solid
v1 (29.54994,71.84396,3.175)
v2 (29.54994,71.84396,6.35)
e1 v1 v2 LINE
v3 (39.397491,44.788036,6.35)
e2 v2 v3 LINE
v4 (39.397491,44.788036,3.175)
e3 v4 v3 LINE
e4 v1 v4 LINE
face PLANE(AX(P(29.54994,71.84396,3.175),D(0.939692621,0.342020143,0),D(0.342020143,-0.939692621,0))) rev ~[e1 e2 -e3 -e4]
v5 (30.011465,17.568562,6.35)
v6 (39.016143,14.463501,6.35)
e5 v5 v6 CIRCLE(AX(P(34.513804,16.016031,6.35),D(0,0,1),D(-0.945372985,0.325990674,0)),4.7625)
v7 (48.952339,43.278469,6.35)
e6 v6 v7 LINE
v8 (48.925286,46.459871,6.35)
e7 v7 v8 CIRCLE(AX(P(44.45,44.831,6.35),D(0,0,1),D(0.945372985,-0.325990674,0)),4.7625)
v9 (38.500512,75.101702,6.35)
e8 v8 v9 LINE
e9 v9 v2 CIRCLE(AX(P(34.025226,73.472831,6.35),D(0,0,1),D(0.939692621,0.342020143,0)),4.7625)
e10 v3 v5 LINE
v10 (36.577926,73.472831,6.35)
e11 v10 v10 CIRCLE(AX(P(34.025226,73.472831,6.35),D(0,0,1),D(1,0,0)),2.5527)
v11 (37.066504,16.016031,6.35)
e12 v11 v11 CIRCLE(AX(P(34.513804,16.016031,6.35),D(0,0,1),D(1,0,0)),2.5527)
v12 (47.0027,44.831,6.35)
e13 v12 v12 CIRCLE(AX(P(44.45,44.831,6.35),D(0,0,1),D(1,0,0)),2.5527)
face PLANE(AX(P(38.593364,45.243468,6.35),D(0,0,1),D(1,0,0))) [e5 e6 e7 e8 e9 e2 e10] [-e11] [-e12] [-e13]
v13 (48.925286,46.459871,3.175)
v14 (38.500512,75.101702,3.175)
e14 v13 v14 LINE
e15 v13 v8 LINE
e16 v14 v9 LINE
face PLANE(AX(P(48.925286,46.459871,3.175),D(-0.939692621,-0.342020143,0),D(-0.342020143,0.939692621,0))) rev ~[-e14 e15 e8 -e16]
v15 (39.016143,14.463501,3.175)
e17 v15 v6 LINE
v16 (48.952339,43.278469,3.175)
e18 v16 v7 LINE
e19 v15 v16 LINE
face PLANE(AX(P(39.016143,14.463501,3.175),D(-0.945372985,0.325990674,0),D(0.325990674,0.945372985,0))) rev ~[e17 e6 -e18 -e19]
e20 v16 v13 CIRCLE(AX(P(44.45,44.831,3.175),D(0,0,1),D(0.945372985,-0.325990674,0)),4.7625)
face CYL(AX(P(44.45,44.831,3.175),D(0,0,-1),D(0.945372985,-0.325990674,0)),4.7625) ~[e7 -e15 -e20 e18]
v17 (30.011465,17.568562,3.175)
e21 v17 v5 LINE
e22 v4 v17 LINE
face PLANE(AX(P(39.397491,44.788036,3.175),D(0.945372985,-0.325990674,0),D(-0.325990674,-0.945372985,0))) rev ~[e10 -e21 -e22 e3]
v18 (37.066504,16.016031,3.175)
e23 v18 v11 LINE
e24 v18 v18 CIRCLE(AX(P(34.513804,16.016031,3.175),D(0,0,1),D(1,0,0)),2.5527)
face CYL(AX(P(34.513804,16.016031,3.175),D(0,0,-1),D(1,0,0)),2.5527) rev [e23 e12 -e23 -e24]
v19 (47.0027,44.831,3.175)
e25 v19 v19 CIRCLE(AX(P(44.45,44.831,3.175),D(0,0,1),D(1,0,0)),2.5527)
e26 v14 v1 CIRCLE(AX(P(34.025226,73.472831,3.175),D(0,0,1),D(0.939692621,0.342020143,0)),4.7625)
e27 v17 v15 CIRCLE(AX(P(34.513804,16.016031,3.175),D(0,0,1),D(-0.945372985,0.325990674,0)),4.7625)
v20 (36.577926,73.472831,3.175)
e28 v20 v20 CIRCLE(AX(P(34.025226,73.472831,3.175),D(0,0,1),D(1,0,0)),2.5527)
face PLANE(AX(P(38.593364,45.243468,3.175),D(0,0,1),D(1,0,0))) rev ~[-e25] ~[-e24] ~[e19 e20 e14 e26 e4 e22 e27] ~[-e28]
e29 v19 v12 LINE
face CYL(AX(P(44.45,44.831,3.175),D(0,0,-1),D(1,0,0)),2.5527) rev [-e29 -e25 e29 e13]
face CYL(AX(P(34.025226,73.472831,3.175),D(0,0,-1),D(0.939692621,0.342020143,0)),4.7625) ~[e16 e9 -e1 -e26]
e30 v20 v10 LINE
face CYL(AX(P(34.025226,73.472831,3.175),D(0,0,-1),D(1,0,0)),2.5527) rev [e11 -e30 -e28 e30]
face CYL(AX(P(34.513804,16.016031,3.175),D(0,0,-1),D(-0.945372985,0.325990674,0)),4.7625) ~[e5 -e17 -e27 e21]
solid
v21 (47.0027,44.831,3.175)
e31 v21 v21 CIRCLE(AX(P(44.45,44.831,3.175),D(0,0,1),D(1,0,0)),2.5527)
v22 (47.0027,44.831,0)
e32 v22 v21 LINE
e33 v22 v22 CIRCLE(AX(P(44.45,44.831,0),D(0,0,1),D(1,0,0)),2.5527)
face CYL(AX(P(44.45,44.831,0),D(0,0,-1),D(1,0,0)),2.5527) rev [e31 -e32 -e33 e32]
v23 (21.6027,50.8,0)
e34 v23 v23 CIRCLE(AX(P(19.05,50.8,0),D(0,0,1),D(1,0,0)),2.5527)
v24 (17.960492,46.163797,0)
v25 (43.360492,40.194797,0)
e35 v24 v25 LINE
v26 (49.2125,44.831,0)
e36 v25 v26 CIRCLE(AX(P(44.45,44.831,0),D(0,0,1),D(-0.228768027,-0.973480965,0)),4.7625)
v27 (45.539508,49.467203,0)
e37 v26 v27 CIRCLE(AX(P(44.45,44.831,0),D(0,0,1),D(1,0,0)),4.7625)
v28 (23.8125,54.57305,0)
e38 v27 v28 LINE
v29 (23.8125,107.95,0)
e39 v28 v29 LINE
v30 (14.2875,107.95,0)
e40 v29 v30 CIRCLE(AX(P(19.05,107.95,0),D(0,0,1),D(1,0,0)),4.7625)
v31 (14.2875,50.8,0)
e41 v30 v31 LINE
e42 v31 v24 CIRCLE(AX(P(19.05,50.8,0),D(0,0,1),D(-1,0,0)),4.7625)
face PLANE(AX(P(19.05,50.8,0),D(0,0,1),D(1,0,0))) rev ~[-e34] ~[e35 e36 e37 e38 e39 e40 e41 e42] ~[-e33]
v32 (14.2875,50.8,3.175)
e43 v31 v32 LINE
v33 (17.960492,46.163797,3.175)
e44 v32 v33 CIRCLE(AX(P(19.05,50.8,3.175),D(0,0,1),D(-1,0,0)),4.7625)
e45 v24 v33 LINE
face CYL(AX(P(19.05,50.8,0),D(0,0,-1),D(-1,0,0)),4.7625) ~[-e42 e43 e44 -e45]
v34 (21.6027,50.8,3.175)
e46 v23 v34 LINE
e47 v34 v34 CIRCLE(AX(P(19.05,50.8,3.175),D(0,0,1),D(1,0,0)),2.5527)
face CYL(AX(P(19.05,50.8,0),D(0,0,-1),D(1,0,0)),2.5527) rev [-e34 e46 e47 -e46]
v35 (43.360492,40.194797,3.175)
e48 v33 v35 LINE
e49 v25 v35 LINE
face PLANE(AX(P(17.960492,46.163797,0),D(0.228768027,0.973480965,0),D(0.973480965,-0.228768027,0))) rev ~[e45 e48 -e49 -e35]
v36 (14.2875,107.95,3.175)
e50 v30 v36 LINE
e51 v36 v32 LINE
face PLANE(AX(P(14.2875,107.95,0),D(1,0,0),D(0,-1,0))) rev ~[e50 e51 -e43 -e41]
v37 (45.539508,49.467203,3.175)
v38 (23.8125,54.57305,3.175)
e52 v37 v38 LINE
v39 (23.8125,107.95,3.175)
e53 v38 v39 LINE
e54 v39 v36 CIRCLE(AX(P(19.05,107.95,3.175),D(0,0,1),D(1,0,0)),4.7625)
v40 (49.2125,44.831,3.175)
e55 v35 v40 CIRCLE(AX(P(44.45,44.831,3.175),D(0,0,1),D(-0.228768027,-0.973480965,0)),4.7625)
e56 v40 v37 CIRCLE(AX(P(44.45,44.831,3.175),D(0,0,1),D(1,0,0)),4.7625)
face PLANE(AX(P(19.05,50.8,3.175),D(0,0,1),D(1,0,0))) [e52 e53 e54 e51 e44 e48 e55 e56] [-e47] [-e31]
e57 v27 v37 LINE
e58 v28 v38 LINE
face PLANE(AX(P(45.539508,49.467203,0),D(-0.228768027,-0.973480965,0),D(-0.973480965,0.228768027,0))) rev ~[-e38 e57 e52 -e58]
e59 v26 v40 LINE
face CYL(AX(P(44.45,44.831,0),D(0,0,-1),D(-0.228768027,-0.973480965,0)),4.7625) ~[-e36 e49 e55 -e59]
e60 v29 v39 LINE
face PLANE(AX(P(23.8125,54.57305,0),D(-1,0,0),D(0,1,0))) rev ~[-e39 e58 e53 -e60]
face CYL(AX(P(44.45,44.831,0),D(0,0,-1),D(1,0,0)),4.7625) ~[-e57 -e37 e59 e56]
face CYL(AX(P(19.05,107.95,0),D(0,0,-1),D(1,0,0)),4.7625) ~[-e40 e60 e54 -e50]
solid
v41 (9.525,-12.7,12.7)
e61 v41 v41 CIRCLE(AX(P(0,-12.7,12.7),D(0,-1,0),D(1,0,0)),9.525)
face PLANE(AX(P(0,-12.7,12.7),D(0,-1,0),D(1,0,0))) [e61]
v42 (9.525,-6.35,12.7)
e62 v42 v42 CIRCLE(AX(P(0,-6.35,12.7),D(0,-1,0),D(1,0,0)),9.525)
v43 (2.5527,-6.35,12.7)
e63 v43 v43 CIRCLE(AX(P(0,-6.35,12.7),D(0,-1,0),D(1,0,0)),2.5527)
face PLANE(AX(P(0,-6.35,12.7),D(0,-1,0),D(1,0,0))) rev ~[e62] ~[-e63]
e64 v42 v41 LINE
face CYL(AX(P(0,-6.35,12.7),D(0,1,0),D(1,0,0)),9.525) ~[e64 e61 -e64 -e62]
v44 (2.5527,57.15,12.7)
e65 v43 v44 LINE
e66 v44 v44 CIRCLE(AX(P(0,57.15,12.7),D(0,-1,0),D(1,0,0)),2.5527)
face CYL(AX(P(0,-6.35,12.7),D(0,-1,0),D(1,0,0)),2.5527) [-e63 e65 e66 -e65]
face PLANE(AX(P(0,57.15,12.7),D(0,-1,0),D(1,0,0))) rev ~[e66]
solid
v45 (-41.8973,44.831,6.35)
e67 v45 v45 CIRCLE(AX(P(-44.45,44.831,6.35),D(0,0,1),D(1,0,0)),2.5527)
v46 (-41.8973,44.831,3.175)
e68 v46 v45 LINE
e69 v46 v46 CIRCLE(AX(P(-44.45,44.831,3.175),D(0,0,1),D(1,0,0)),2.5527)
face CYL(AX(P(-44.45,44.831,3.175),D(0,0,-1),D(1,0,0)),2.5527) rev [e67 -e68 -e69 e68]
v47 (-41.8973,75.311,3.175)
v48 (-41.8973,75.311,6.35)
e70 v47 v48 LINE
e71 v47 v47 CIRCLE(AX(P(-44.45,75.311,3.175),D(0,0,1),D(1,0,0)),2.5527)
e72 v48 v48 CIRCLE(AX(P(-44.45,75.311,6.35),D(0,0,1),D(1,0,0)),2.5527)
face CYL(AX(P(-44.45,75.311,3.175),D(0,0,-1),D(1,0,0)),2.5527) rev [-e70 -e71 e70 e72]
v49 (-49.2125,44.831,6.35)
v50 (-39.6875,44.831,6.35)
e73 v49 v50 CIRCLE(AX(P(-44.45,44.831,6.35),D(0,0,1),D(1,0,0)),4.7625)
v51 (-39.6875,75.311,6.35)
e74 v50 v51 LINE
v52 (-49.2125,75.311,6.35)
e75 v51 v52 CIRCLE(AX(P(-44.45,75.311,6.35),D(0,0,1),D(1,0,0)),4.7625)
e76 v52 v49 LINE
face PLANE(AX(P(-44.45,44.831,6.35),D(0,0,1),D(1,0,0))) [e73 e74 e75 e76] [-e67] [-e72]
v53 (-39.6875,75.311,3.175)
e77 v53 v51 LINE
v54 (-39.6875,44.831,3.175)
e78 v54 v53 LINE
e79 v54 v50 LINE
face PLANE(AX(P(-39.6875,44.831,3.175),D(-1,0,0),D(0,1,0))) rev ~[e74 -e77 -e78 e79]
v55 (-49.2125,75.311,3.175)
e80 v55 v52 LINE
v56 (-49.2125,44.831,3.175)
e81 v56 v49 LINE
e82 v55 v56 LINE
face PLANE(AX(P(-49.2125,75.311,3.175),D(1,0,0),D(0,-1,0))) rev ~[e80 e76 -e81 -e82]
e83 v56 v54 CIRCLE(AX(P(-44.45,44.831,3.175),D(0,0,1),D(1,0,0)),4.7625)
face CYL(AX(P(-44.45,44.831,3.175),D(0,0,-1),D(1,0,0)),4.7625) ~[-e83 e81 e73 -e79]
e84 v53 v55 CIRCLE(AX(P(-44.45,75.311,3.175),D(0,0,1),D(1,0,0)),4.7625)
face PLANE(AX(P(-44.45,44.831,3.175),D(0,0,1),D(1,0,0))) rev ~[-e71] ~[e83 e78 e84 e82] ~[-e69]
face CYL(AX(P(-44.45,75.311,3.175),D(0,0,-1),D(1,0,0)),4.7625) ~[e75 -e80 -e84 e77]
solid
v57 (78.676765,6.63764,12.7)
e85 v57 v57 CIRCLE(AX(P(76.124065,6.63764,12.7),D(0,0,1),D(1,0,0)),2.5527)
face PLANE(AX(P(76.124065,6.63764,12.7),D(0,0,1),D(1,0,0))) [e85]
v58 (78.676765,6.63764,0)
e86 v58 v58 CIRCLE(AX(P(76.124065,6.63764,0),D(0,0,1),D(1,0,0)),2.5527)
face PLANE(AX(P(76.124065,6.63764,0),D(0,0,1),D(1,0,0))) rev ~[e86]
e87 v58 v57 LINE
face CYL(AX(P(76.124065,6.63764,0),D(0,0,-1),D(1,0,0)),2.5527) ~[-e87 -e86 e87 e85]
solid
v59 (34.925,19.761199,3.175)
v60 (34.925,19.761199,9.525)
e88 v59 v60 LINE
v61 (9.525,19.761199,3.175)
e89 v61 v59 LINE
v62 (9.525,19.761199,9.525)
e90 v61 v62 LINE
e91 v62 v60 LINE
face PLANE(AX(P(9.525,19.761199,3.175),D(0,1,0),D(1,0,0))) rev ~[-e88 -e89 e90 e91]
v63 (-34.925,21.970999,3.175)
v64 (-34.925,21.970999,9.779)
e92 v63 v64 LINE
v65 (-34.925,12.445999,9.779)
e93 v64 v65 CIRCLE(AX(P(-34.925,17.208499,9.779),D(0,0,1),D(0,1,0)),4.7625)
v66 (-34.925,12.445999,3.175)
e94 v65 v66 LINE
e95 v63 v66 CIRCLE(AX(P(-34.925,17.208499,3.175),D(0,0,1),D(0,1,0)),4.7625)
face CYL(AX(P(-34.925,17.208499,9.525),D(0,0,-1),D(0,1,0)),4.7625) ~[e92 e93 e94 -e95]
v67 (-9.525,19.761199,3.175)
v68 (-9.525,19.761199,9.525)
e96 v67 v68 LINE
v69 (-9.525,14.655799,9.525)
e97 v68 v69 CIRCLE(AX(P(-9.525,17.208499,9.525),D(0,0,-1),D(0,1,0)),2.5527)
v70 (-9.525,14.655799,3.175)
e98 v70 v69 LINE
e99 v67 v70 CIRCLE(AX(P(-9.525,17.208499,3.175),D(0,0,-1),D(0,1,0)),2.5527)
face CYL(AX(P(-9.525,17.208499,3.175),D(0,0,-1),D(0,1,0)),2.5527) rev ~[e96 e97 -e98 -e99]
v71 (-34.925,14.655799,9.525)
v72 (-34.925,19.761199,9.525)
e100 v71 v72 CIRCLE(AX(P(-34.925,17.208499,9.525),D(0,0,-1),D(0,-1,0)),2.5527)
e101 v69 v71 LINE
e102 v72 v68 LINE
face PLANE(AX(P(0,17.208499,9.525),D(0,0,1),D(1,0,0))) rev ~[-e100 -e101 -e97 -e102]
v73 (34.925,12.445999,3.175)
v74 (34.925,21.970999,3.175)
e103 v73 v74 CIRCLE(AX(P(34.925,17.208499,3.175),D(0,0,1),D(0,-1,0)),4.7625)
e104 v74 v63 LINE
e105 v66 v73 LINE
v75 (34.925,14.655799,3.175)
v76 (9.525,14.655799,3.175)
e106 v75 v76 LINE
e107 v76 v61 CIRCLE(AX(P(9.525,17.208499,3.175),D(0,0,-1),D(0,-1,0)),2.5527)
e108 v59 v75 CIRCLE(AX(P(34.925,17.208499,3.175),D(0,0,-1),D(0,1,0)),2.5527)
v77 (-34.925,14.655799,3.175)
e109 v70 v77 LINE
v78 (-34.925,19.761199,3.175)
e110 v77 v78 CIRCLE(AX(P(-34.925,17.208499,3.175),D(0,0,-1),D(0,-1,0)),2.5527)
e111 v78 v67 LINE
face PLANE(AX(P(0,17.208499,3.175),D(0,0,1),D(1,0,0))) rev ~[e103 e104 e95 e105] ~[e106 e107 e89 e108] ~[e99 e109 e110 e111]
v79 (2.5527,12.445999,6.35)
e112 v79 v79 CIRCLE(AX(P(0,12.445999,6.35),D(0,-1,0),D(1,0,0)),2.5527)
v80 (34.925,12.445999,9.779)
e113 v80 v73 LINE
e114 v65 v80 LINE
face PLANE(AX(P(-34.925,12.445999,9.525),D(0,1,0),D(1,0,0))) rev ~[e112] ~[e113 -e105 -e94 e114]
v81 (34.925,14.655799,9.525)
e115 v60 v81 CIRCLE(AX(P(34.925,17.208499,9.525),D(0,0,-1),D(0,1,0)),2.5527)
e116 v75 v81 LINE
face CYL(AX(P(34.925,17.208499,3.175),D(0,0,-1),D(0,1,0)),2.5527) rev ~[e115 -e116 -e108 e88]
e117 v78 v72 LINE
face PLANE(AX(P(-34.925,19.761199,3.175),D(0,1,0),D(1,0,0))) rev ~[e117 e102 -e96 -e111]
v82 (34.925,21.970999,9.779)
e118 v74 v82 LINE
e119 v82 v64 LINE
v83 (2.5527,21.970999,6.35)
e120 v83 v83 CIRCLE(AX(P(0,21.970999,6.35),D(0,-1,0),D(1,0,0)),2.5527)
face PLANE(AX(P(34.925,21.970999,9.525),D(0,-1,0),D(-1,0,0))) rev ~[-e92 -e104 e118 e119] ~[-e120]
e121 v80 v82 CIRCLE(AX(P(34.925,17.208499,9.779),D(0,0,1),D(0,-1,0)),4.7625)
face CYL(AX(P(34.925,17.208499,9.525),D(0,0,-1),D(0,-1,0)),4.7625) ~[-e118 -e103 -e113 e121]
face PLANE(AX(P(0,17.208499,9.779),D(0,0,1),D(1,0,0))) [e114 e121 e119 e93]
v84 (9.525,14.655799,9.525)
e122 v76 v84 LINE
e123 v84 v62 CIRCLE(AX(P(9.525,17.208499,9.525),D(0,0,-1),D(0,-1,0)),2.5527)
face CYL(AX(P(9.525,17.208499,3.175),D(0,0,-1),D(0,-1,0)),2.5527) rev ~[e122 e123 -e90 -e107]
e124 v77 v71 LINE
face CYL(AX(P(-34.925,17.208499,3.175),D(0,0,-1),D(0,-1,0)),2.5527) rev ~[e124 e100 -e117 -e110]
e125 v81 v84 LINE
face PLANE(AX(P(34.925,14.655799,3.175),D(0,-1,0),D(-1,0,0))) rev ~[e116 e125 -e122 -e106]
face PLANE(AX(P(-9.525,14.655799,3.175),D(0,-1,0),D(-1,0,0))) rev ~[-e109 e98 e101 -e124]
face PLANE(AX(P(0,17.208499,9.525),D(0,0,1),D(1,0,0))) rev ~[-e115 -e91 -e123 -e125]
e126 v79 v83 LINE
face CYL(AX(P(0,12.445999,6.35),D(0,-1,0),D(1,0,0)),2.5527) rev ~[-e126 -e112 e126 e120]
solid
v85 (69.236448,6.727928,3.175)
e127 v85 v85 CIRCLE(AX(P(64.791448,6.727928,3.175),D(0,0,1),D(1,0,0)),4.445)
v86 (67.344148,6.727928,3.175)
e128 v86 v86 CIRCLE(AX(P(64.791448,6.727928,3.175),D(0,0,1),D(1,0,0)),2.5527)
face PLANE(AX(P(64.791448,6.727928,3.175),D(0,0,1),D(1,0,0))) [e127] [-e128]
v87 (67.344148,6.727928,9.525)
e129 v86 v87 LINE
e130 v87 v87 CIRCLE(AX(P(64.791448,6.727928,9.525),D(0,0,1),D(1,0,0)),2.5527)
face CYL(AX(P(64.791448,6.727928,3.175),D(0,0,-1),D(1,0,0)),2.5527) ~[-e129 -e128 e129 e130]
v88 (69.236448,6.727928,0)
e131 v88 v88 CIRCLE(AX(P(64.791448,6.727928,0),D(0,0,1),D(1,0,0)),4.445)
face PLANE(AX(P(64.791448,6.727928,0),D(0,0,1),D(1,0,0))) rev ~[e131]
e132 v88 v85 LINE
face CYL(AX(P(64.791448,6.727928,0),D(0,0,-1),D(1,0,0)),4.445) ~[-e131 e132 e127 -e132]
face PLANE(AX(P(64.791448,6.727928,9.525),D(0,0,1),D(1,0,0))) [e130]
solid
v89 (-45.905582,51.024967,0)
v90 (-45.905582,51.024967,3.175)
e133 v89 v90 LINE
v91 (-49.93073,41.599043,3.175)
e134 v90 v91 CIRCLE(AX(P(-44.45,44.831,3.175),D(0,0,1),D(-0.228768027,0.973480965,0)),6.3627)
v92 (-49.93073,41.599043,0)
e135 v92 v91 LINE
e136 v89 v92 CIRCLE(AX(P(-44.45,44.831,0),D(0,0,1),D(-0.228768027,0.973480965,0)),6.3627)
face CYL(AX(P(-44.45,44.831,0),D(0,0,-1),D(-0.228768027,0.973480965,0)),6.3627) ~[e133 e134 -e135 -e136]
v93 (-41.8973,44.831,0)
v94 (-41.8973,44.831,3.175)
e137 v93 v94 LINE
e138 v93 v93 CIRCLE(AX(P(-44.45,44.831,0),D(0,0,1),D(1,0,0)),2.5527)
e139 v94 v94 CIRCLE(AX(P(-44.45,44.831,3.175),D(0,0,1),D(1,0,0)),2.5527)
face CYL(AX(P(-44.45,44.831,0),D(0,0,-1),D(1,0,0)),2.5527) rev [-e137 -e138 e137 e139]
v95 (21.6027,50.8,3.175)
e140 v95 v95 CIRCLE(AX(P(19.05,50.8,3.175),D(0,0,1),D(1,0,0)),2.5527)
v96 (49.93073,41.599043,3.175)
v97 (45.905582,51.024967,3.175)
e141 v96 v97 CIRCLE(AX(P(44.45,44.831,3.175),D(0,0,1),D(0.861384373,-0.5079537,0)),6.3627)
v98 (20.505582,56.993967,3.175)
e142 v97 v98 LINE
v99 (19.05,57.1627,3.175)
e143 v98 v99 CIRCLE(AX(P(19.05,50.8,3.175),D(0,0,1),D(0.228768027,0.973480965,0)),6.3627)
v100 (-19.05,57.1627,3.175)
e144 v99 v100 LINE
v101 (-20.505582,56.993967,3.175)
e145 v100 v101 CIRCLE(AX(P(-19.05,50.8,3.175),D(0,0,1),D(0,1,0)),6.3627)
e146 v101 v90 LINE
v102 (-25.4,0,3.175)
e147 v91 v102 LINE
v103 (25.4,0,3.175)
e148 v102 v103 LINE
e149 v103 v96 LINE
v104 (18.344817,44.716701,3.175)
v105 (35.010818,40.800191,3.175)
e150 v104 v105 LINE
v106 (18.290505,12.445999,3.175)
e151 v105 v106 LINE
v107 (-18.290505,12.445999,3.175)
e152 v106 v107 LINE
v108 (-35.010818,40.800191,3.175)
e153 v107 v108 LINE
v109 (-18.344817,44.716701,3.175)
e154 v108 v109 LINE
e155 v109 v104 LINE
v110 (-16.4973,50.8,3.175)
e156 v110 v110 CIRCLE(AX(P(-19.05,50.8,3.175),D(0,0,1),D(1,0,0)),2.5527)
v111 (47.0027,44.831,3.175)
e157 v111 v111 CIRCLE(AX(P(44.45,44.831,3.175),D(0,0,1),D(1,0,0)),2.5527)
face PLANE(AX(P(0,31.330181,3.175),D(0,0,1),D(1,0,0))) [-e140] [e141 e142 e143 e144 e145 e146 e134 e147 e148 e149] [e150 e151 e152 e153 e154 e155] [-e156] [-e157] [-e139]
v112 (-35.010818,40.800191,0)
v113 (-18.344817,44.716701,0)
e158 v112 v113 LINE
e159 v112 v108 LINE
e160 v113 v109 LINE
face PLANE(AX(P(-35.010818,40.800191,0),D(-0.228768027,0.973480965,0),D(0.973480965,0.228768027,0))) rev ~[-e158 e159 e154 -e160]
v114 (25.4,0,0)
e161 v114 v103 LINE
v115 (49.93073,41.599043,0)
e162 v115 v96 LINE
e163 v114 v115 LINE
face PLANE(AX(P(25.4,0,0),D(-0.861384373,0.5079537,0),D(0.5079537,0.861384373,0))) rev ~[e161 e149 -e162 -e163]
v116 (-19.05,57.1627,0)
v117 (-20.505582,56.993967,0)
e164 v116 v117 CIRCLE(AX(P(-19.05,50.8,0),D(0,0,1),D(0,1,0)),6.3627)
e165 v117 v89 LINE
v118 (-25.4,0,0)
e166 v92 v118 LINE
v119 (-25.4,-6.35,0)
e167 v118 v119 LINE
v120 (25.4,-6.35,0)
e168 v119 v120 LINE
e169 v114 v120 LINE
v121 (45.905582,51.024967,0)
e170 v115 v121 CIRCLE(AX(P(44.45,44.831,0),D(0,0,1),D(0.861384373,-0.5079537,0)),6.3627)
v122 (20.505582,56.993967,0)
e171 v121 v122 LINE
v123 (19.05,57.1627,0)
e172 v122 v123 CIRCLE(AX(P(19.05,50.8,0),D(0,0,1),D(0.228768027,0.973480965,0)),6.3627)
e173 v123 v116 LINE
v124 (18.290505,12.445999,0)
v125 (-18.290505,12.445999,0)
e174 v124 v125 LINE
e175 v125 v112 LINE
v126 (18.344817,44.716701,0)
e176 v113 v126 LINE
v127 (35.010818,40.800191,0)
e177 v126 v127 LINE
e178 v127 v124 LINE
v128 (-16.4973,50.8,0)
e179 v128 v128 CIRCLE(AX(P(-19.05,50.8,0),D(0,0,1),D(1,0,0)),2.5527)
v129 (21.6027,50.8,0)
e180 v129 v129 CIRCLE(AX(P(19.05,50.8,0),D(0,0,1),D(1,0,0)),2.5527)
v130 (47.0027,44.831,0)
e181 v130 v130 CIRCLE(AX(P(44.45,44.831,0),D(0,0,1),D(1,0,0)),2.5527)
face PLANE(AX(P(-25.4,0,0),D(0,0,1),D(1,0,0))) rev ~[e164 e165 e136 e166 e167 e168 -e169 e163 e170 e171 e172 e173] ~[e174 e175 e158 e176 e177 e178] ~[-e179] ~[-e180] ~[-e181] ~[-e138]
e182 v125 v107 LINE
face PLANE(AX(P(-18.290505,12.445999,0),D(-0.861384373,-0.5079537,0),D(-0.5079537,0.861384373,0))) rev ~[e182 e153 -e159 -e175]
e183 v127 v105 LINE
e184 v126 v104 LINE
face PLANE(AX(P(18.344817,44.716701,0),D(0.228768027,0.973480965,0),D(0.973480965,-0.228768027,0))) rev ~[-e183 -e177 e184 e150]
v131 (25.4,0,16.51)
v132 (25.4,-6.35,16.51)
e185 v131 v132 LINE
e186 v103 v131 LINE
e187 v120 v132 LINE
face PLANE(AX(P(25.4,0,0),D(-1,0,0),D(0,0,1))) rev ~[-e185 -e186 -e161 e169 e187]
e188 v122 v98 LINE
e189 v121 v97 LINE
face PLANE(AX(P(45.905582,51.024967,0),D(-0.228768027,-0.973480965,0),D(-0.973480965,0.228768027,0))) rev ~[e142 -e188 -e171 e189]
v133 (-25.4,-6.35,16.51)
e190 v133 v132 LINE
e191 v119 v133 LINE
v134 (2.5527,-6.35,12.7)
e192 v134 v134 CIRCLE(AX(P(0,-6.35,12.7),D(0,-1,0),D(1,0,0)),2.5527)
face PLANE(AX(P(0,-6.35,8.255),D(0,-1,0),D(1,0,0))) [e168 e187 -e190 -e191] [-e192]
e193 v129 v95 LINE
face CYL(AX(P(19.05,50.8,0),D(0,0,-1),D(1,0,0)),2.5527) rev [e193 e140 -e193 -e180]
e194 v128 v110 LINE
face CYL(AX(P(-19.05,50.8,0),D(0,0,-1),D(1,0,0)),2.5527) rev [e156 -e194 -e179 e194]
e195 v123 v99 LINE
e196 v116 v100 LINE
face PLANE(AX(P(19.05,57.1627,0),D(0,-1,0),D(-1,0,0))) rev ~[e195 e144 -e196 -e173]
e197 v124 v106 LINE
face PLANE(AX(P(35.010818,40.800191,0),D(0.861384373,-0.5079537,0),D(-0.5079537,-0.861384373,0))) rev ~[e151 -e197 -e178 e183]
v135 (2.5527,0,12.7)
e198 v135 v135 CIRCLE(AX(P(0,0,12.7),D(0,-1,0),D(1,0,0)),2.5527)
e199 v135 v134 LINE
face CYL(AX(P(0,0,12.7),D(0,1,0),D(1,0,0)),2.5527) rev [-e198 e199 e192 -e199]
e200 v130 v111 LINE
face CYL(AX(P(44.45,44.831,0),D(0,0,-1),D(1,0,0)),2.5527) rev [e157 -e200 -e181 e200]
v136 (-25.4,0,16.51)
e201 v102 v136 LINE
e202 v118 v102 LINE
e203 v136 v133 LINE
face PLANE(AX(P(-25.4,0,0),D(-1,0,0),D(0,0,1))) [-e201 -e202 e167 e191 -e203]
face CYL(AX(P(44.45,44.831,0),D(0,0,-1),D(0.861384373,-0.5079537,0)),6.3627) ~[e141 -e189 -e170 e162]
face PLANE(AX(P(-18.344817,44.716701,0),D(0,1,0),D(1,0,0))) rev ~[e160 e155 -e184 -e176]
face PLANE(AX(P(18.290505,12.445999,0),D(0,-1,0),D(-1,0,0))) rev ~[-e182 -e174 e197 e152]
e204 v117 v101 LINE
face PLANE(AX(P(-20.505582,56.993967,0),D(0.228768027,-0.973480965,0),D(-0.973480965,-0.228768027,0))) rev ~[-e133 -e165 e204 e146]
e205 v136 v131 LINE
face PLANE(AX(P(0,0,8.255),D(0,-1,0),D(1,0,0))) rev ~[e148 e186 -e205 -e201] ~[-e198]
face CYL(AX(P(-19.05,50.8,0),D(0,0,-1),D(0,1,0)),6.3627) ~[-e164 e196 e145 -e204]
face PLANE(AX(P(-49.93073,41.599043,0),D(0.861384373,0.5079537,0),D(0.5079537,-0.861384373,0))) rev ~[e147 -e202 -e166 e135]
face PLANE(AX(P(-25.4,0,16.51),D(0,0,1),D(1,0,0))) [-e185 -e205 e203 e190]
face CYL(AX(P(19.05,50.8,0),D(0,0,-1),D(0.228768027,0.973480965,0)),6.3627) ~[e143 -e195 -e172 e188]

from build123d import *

# Parameters (mm, degrees)
F0_R      = 2.5527
F1_DEPTH  = 3.175
F2_R      = 2.5527
F3_DEPTH  = 3.175
F5_DEPTH  = 6.35
F6_R      = 2.5527
F7_DEPTH  = 3.175
F8_R      = 4.445
F9_DEPTH  = 3.175
F10_R     = 2.5527
F11_DEPTH = 6.35
F12_R     = 2.5527
F13_DEPTH = 3.175
F14_R     = 2.5527
F15_DEPTH = 12.7
F17_DEPTH = 0.254
F18_R     = 2.5527
F19_DEPTH = 9.525
F20_W     = 50.8
F20_H     = 16.51
F20_R     = 2.5527
F21_DEPTH = 6.35
F22_R     = 2.5527
F23_DEPTH = 63.5
F24_R     = 9.525
F25_DEPTH = 6.35


with BuildPart() as f1:
    # F0 (on Top) → F1 (new body)
    with BuildSketch(Plane.XY):
        with BuildLine():
            Line((45.9055823245, 51.0249673382), (20.5055823245, 56.9939673382))
            ThreePointArc((20.5055823245, 56.9939673382), (19.7826647621, 57.1203760676), (19.05, 57.1627))
            Line((19.05, 57.1627), (-19.05, 57.1627))
            ThreePointArc((-19.05, 57.1627), (-19.7826647621, 57.1203760676), (-20.5055823245, 56.9939673382))
            Line((-20.5055823245, 56.9939673382), (-45.9055823245, 51.0249673382))
            ThreePointArc((-45.9055823245, 51.0249673382), (-50.3015058595, 47.3297657885), (-49.9307303532, 41.5990429944))
            Line((-49.9307303532, 41.5990429944), (-25.4, 0))
            Line((-25.4, 0), (25.4, 0))
            Line((25.4, 0), (49.9307303532, 41.5990429944))
            ThreePointArc((49.9307303532, 41.5990429944), (50.3015058595, 47.3297657885), (45.9055823245, 51.0249673382))
        make_face()
        with Locations((-44.45, 44.831)):
            Circle(F0_R, mode=Mode.SUBTRACT)
        with Locations((-19.05, 50.8)):
            Circle(F0_R, mode=Mode.SUBTRACT)
        Polygon((-18.2905051072, 12.4459990885), (-35.0108183366, 40.8001907044), (-18.3448174552, 44.7167009115), (18.3448174552, 44.7167009115), (35.0108183366, 40.8001907044), (18.2905051072, 12.4459990885), align=None, mode=Mode.SUBTRACT)
        with Locations((19.05, 50.8)):
            Circle(F0_R, mode=Mode.SUBTRACT)
        with Locations((44.45, 44.831)):
            Circle(F0_R, mode=Mode.SUBTRACT)
    extrude(amount=F1_DEPTH)

    # F20 (on face) → F21 (join)
    with BuildSketch(Plane.XZ):
        with Locations((0, 8.255)):
            Rectangle(F20_W, F20_H)
        with Locations((0, 12.7)):
            Circle(F20_R, mode=Mode.SUBTRACT)
    extrude(amount=F21_DEPTH)


with BuildPart() as f3:
    # F2 (on face) → F3 (new body)
    with BuildSketch(Plane.XY.offset(3.175)):
        with BuildLine():
            ThreePointArc((-49.2125, 44.831), (-44.45, 40.0685), (-39.6875, 44.831))
            ThreePointArc((-39.6875, 44.831), (-44.45, 49.5935), (-49.2125, 44.831))
        make_face()
        with Locations((-44.45, 44.831)):
            Circle(F2_R, mode=Mode.SUBTRACT)
        with BuildLine():
            ThreePointArc((-49.2125, 44.831), (-44.45, 49.5935), (-39.6875, 44.831))
            Line((-39.6875, 44.831), (-39.6875, 75.311))
            ThreePointArc((-39.6875, 75.311), (-44.45, 70.5485), (-49.2125, 75.311))
            Line((-49.2125, 75.311), (-49.2125, 44.831))
        make_face()
        with BuildLine():
            ThreePointArc((-49.2125, 75.311), (-44.45, 70.5485), (-39.6875, 75.311))
            ThreePointArc((-39.6875, 75.311), (-44.45, 80.0735), (-49.2125, 75.311))
        make_face()
        with Locations((-44.45, 75.311)):
            Circle(F2_R, mode=Mode.SUBTRACT)
    extrude(amount=F3_DEPTH)


with BuildPart() as f5:
    # F4 (on face) → F5 (new body)
    with BuildSketch(Plane.XY.offset(3.175)):
        with BuildLine():
            Line((34.925, 19.7611990885), (34.925, 21.9709990885))
            Line((34.925, 21.9709990885), (-34.925, 21.9709990885))
            Line((-34.925, 21.9709990885), (-34.925, 19.7611990885))
            Line((-34.925, 19.7611990885), (-9.525, 19.7611990885))
            ThreePointArc((-9.525, 19.7611990885), (-6.9723, 17.2084990885), (-9.525, 14.6557990885))
            Line((-9.525, 14.6557990885), (-34.925, 14.6557990885))
            Line((-34.925, 14.6557990885), (-34.925, 12.4459990885))
            Line((-34.925, 12.4459990885), (34.925, 12.4459990885))
            Line((34.925, 12.4459990885), (34.925, 14.6557990885))
            Line((34.925, 14.6557990885), (9.525, 14.6557990885))
            ThreePointArc((9.525, 14.6557990885), (6.9723, 17.2084990885), (9.525, 19.7611990885))
            Line((9.525, 19.7611990885), (34.925, 19.7611990885))
        make_face()
        with BuildLine():
            ThreePointArc((34.925, 12.4459990885), (39.6875, 17.2084990885), (34.925, 21.9709990885))
            Line((34.925, 21.9709990885), (34.925, 19.7611990885))
            ThreePointArc((34.925, 19.7611990885), (37.4777, 17.2084990885), (34.925, 14.6557990885))
            Line((34.925, 14.6557990885), (34.925, 12.4459990885))
        make_face()
        with BuildLine():
            Line((-34.925, 19.7611990885), (-34.925, 21.9709990885))
            ThreePointArc((-34.925, 21.9709990885), (-39.6875, 17.2084990885), (-34.925, 12.4459990885))
            Line((-34.925, 12.4459990885), (-34.925, 14.6557990885))
            ThreePointArc((-34.925, 14.6557990885), (-37.4777, 17.2084990885), (-34.925, 19.7611990885))
        make_face()
    extrude(amount=F5_DEPTH)

    # F16 (on face) → F17 (join)
    with BuildSketch(Plane.XY.offset(9.525)):
        with BuildLine():
            ThreePointArc((34.925, 12.4459990885), (39.6875, 17.2084990885), (34.925, 21.9709990885))
            Line((34.925, 21.9709990885), (-34.925, 21.9709990885))
            ThreePointArc((-34.925, 21.9709990885), (-39.6875, 17.2084990885), (-34.925, 12.4459990885))
            Line((-34.925, 12.4459990885), (34.925, 12.4459990885))
        make_face()
    extrude(amount=F17_DEPTH)

    # F18 (on face) → F19 (cut, through all)
    with BuildSketch(Plane.XZ.offset(-12.4459990885)):
        with Locations((0, 6.35)):
            Circle(F18_R)
    extrude(amount=-F19_DEPTH, mode=Mode.SUBTRACT)


with BuildPart() as f7:
    # F6 (on face) → F7 (new body)
    with BuildSketch(Plane.XY.offset(3.175)):
        with BuildLine():
            Line((39.0161431063, 14.4635008355), (48.9523388408, 43.2784694165))
            ThreePointArc((48.9523388408, 43.2784694165), (49.2123278263, 44.8714959854), (48.9252861065, 46.4598709326))
            Line((48.9252861065, 46.4598709326), (38.5005121379, 75.1017020141))
            ThreePointArc((38.5005121379, 75.1017020141), (32.3963550988, 77.948117188), (29.5499399249, 71.843960149))
            Line((29.5499399249, 71.843960149), (39.3974907989, 44.7880364859))
            Line((39.3974907989, 44.7880364859), (30.0114654247, 17.5685620025))
            ThreePointArc((30.0114654247, 17.5685620025), (35.3008930536, 20.7130408388), (39.2763042655, 16.016031419))
            ThreePointArc((39.2763042655, 16.016031419), (39.2108136853, 15.2289426309), (39.0161431063, 14.4635008355))
        make_face()
        with Locations((34.0252260314, 73.4728310816)):
            Circle(F6_R, mode=Mode.SUBTRACT)
        with Locations((44.45, 44.831)):
            Circle(F6_R, mode=Mode.SUBTRACT)
        with BuildLine():
            ThreePointArc((30.0114654247, 17.5685620025), (32.9612736819, 11.5136925782), (39.0161431063, 14.4635008355))
            ThreePointArc((39.0161431063, 14.4635008355), (39.2108136853, 15.2289426309), (39.2763042655, 16.016031419))
            ThreePointArc((39.2763042655, 16.016031419), (35.3008930536, 20.7130408388), (30.0114654247, 17.5685620025))
        make_face()
        with Locations((34.5138042655, 16.016031419)):
            Circle(F6_R, mode=Mode.SUBTRACT)
    extrude(amount=F7_DEPTH)


with BuildPart() as f9:
    # F8 (on Top) → F9 (new body)
    with BuildSketch(Plane.XY):
        with Locations((64.7914484143, 6.7279278301)):
            Circle(F8_R)
    extrude(amount=F9_DEPTH)

    # F10 (on face) → F11 (join)
    with BuildSketch(Plane.XY.offset(3.175)):
        with Locations((64.7914484143, 6.7279278301)):
            Circle(F10_R)
    extrude(amount=F11_DEPTH)


with BuildPart() as f13:
    # F12 (on Top) → F13 (new body)
    with BuildSketch(Plane.XY):
        with BuildLine():
            ThreePointArc((17.9604922721, 46.1637969025), (22.0074165834, 47.0670261986), (23.8125, 50.8))
            ThreePointArc((23.8125, 50.8), (22.7829738014, 53.7574165834), (20.1395077279, 55.4362030975))
            ThreePointArc((20.1395077279, 55.4362030975), (16.0925834166, 54.5329738014), (14.2875, 50.8))
            ThreePointArc((14.2875, 50.8), (15.3170261986, 47.8425834166), (17.9604922721, 46.1637969025))
        make_face()
        with Locations((19.05, 50.8)):
            Circle(F12_R, mode=Mode.SUBTRACT)
        with BuildLine():
            Line((23.8125, 54.5730499135), (23.8125, 50.8))
            ThreePointArc((23.8125, 50.8), (22.0074165834, 47.0670261986), (17.9604922721, 46.1637969025))
            Line((17.9604922721, 46.1637969025), (43.3604922721, 40.1947969025))
            ThreePointArc((43.3604922721, 40.1947969025), (39.8137969025, 45.9205077279), (45.5395077279, 49.4672030975))
            Line((45.5395077279, 49.4672030975), (23.8125, 54.5730499135))
        make_face()
        with BuildLine():
            ThreePointArc((20.1395077279, 55.4362030975), (22.7829738014, 53.7574165834), (23.8125, 50.8))
            Line((23.8125, 50.8), (23.8125, 54.5730499135))
            Line((23.8125, 54.5730499135), (20.1395077279, 55.4362030975))
        make_face()
        with BuildLine():
            ThreePointArc((14.2875, 50.8), (16.0925834166, 54.5329738014), (20.1395077279, 55.4362030975))
            Line((20.1395077279, 55.4362030975), (23.8125, 54.5730499135))
            Line((23.8125, 54.5730499135), (23.8125, 107.95))
            ThreePointArc((23.8125, 107.95), (19.05, 103.1875), (14.2875, 107.95))
            Line((14.2875, 107.95), (14.2875, 50.8))
        make_face()
        with BuildLine():
            ThreePointArc((45.5395077279, 49.4672030975), (39.8137969025, 45.9205077279), (43.3604922721, 40.1947969025))
            ThreePointArc((43.3604922721, 40.1947969025), (47.4074165834, 41.0980261986), (49.2125, 44.831))
            ThreePointArc((49.2125, 44.831), (48.1829738014, 47.7884165834), (45.5395077279, 49.4672030975))
        make_face()
        with Locations((44.45, 44.831)):
            Circle(F12_R, mode=Mode.SUBTRACT)
        with BuildLine():
            ThreePointArc((14.2875, 107.95), (19.05, 103.1875), (23.8125, 107.95))
            ThreePointArc((23.8125, 107.95), (19.05, 112.7125), (14.2875, 107.95))
        make_face()
    extrude(amount=F13_DEPTH)


with BuildPart() as f15:
    # F14 (on Top) → F15 (new body)
    with BuildSketch(Plane.XY):
        with Locations((76.1240646243, 6.6376398318)):
            Circle(F14_R)
    extrude(amount=F15_DEPTH)


with BuildPart() as f23:
    # F22 (on face) → F23 (new body)
    with BuildSketch(Plane.XZ.offset(6.35)):
        with Locations((0, 12.7)):
            Circle(F22_R)
    extrude(amount=-F23_DEPTH)

    # F24 (on face) → F25 (join)
    with BuildSketch(Plane.XZ.offset(6.35)):
        with Locations((0, 12.7)):
            Circle(F24_R)
    extrude(amount=F25_DEPTH)


solid = Compound([f1.part, f3.part, f5.part, f7.part, f9.part, f13.part, f15.part, f23.part])
